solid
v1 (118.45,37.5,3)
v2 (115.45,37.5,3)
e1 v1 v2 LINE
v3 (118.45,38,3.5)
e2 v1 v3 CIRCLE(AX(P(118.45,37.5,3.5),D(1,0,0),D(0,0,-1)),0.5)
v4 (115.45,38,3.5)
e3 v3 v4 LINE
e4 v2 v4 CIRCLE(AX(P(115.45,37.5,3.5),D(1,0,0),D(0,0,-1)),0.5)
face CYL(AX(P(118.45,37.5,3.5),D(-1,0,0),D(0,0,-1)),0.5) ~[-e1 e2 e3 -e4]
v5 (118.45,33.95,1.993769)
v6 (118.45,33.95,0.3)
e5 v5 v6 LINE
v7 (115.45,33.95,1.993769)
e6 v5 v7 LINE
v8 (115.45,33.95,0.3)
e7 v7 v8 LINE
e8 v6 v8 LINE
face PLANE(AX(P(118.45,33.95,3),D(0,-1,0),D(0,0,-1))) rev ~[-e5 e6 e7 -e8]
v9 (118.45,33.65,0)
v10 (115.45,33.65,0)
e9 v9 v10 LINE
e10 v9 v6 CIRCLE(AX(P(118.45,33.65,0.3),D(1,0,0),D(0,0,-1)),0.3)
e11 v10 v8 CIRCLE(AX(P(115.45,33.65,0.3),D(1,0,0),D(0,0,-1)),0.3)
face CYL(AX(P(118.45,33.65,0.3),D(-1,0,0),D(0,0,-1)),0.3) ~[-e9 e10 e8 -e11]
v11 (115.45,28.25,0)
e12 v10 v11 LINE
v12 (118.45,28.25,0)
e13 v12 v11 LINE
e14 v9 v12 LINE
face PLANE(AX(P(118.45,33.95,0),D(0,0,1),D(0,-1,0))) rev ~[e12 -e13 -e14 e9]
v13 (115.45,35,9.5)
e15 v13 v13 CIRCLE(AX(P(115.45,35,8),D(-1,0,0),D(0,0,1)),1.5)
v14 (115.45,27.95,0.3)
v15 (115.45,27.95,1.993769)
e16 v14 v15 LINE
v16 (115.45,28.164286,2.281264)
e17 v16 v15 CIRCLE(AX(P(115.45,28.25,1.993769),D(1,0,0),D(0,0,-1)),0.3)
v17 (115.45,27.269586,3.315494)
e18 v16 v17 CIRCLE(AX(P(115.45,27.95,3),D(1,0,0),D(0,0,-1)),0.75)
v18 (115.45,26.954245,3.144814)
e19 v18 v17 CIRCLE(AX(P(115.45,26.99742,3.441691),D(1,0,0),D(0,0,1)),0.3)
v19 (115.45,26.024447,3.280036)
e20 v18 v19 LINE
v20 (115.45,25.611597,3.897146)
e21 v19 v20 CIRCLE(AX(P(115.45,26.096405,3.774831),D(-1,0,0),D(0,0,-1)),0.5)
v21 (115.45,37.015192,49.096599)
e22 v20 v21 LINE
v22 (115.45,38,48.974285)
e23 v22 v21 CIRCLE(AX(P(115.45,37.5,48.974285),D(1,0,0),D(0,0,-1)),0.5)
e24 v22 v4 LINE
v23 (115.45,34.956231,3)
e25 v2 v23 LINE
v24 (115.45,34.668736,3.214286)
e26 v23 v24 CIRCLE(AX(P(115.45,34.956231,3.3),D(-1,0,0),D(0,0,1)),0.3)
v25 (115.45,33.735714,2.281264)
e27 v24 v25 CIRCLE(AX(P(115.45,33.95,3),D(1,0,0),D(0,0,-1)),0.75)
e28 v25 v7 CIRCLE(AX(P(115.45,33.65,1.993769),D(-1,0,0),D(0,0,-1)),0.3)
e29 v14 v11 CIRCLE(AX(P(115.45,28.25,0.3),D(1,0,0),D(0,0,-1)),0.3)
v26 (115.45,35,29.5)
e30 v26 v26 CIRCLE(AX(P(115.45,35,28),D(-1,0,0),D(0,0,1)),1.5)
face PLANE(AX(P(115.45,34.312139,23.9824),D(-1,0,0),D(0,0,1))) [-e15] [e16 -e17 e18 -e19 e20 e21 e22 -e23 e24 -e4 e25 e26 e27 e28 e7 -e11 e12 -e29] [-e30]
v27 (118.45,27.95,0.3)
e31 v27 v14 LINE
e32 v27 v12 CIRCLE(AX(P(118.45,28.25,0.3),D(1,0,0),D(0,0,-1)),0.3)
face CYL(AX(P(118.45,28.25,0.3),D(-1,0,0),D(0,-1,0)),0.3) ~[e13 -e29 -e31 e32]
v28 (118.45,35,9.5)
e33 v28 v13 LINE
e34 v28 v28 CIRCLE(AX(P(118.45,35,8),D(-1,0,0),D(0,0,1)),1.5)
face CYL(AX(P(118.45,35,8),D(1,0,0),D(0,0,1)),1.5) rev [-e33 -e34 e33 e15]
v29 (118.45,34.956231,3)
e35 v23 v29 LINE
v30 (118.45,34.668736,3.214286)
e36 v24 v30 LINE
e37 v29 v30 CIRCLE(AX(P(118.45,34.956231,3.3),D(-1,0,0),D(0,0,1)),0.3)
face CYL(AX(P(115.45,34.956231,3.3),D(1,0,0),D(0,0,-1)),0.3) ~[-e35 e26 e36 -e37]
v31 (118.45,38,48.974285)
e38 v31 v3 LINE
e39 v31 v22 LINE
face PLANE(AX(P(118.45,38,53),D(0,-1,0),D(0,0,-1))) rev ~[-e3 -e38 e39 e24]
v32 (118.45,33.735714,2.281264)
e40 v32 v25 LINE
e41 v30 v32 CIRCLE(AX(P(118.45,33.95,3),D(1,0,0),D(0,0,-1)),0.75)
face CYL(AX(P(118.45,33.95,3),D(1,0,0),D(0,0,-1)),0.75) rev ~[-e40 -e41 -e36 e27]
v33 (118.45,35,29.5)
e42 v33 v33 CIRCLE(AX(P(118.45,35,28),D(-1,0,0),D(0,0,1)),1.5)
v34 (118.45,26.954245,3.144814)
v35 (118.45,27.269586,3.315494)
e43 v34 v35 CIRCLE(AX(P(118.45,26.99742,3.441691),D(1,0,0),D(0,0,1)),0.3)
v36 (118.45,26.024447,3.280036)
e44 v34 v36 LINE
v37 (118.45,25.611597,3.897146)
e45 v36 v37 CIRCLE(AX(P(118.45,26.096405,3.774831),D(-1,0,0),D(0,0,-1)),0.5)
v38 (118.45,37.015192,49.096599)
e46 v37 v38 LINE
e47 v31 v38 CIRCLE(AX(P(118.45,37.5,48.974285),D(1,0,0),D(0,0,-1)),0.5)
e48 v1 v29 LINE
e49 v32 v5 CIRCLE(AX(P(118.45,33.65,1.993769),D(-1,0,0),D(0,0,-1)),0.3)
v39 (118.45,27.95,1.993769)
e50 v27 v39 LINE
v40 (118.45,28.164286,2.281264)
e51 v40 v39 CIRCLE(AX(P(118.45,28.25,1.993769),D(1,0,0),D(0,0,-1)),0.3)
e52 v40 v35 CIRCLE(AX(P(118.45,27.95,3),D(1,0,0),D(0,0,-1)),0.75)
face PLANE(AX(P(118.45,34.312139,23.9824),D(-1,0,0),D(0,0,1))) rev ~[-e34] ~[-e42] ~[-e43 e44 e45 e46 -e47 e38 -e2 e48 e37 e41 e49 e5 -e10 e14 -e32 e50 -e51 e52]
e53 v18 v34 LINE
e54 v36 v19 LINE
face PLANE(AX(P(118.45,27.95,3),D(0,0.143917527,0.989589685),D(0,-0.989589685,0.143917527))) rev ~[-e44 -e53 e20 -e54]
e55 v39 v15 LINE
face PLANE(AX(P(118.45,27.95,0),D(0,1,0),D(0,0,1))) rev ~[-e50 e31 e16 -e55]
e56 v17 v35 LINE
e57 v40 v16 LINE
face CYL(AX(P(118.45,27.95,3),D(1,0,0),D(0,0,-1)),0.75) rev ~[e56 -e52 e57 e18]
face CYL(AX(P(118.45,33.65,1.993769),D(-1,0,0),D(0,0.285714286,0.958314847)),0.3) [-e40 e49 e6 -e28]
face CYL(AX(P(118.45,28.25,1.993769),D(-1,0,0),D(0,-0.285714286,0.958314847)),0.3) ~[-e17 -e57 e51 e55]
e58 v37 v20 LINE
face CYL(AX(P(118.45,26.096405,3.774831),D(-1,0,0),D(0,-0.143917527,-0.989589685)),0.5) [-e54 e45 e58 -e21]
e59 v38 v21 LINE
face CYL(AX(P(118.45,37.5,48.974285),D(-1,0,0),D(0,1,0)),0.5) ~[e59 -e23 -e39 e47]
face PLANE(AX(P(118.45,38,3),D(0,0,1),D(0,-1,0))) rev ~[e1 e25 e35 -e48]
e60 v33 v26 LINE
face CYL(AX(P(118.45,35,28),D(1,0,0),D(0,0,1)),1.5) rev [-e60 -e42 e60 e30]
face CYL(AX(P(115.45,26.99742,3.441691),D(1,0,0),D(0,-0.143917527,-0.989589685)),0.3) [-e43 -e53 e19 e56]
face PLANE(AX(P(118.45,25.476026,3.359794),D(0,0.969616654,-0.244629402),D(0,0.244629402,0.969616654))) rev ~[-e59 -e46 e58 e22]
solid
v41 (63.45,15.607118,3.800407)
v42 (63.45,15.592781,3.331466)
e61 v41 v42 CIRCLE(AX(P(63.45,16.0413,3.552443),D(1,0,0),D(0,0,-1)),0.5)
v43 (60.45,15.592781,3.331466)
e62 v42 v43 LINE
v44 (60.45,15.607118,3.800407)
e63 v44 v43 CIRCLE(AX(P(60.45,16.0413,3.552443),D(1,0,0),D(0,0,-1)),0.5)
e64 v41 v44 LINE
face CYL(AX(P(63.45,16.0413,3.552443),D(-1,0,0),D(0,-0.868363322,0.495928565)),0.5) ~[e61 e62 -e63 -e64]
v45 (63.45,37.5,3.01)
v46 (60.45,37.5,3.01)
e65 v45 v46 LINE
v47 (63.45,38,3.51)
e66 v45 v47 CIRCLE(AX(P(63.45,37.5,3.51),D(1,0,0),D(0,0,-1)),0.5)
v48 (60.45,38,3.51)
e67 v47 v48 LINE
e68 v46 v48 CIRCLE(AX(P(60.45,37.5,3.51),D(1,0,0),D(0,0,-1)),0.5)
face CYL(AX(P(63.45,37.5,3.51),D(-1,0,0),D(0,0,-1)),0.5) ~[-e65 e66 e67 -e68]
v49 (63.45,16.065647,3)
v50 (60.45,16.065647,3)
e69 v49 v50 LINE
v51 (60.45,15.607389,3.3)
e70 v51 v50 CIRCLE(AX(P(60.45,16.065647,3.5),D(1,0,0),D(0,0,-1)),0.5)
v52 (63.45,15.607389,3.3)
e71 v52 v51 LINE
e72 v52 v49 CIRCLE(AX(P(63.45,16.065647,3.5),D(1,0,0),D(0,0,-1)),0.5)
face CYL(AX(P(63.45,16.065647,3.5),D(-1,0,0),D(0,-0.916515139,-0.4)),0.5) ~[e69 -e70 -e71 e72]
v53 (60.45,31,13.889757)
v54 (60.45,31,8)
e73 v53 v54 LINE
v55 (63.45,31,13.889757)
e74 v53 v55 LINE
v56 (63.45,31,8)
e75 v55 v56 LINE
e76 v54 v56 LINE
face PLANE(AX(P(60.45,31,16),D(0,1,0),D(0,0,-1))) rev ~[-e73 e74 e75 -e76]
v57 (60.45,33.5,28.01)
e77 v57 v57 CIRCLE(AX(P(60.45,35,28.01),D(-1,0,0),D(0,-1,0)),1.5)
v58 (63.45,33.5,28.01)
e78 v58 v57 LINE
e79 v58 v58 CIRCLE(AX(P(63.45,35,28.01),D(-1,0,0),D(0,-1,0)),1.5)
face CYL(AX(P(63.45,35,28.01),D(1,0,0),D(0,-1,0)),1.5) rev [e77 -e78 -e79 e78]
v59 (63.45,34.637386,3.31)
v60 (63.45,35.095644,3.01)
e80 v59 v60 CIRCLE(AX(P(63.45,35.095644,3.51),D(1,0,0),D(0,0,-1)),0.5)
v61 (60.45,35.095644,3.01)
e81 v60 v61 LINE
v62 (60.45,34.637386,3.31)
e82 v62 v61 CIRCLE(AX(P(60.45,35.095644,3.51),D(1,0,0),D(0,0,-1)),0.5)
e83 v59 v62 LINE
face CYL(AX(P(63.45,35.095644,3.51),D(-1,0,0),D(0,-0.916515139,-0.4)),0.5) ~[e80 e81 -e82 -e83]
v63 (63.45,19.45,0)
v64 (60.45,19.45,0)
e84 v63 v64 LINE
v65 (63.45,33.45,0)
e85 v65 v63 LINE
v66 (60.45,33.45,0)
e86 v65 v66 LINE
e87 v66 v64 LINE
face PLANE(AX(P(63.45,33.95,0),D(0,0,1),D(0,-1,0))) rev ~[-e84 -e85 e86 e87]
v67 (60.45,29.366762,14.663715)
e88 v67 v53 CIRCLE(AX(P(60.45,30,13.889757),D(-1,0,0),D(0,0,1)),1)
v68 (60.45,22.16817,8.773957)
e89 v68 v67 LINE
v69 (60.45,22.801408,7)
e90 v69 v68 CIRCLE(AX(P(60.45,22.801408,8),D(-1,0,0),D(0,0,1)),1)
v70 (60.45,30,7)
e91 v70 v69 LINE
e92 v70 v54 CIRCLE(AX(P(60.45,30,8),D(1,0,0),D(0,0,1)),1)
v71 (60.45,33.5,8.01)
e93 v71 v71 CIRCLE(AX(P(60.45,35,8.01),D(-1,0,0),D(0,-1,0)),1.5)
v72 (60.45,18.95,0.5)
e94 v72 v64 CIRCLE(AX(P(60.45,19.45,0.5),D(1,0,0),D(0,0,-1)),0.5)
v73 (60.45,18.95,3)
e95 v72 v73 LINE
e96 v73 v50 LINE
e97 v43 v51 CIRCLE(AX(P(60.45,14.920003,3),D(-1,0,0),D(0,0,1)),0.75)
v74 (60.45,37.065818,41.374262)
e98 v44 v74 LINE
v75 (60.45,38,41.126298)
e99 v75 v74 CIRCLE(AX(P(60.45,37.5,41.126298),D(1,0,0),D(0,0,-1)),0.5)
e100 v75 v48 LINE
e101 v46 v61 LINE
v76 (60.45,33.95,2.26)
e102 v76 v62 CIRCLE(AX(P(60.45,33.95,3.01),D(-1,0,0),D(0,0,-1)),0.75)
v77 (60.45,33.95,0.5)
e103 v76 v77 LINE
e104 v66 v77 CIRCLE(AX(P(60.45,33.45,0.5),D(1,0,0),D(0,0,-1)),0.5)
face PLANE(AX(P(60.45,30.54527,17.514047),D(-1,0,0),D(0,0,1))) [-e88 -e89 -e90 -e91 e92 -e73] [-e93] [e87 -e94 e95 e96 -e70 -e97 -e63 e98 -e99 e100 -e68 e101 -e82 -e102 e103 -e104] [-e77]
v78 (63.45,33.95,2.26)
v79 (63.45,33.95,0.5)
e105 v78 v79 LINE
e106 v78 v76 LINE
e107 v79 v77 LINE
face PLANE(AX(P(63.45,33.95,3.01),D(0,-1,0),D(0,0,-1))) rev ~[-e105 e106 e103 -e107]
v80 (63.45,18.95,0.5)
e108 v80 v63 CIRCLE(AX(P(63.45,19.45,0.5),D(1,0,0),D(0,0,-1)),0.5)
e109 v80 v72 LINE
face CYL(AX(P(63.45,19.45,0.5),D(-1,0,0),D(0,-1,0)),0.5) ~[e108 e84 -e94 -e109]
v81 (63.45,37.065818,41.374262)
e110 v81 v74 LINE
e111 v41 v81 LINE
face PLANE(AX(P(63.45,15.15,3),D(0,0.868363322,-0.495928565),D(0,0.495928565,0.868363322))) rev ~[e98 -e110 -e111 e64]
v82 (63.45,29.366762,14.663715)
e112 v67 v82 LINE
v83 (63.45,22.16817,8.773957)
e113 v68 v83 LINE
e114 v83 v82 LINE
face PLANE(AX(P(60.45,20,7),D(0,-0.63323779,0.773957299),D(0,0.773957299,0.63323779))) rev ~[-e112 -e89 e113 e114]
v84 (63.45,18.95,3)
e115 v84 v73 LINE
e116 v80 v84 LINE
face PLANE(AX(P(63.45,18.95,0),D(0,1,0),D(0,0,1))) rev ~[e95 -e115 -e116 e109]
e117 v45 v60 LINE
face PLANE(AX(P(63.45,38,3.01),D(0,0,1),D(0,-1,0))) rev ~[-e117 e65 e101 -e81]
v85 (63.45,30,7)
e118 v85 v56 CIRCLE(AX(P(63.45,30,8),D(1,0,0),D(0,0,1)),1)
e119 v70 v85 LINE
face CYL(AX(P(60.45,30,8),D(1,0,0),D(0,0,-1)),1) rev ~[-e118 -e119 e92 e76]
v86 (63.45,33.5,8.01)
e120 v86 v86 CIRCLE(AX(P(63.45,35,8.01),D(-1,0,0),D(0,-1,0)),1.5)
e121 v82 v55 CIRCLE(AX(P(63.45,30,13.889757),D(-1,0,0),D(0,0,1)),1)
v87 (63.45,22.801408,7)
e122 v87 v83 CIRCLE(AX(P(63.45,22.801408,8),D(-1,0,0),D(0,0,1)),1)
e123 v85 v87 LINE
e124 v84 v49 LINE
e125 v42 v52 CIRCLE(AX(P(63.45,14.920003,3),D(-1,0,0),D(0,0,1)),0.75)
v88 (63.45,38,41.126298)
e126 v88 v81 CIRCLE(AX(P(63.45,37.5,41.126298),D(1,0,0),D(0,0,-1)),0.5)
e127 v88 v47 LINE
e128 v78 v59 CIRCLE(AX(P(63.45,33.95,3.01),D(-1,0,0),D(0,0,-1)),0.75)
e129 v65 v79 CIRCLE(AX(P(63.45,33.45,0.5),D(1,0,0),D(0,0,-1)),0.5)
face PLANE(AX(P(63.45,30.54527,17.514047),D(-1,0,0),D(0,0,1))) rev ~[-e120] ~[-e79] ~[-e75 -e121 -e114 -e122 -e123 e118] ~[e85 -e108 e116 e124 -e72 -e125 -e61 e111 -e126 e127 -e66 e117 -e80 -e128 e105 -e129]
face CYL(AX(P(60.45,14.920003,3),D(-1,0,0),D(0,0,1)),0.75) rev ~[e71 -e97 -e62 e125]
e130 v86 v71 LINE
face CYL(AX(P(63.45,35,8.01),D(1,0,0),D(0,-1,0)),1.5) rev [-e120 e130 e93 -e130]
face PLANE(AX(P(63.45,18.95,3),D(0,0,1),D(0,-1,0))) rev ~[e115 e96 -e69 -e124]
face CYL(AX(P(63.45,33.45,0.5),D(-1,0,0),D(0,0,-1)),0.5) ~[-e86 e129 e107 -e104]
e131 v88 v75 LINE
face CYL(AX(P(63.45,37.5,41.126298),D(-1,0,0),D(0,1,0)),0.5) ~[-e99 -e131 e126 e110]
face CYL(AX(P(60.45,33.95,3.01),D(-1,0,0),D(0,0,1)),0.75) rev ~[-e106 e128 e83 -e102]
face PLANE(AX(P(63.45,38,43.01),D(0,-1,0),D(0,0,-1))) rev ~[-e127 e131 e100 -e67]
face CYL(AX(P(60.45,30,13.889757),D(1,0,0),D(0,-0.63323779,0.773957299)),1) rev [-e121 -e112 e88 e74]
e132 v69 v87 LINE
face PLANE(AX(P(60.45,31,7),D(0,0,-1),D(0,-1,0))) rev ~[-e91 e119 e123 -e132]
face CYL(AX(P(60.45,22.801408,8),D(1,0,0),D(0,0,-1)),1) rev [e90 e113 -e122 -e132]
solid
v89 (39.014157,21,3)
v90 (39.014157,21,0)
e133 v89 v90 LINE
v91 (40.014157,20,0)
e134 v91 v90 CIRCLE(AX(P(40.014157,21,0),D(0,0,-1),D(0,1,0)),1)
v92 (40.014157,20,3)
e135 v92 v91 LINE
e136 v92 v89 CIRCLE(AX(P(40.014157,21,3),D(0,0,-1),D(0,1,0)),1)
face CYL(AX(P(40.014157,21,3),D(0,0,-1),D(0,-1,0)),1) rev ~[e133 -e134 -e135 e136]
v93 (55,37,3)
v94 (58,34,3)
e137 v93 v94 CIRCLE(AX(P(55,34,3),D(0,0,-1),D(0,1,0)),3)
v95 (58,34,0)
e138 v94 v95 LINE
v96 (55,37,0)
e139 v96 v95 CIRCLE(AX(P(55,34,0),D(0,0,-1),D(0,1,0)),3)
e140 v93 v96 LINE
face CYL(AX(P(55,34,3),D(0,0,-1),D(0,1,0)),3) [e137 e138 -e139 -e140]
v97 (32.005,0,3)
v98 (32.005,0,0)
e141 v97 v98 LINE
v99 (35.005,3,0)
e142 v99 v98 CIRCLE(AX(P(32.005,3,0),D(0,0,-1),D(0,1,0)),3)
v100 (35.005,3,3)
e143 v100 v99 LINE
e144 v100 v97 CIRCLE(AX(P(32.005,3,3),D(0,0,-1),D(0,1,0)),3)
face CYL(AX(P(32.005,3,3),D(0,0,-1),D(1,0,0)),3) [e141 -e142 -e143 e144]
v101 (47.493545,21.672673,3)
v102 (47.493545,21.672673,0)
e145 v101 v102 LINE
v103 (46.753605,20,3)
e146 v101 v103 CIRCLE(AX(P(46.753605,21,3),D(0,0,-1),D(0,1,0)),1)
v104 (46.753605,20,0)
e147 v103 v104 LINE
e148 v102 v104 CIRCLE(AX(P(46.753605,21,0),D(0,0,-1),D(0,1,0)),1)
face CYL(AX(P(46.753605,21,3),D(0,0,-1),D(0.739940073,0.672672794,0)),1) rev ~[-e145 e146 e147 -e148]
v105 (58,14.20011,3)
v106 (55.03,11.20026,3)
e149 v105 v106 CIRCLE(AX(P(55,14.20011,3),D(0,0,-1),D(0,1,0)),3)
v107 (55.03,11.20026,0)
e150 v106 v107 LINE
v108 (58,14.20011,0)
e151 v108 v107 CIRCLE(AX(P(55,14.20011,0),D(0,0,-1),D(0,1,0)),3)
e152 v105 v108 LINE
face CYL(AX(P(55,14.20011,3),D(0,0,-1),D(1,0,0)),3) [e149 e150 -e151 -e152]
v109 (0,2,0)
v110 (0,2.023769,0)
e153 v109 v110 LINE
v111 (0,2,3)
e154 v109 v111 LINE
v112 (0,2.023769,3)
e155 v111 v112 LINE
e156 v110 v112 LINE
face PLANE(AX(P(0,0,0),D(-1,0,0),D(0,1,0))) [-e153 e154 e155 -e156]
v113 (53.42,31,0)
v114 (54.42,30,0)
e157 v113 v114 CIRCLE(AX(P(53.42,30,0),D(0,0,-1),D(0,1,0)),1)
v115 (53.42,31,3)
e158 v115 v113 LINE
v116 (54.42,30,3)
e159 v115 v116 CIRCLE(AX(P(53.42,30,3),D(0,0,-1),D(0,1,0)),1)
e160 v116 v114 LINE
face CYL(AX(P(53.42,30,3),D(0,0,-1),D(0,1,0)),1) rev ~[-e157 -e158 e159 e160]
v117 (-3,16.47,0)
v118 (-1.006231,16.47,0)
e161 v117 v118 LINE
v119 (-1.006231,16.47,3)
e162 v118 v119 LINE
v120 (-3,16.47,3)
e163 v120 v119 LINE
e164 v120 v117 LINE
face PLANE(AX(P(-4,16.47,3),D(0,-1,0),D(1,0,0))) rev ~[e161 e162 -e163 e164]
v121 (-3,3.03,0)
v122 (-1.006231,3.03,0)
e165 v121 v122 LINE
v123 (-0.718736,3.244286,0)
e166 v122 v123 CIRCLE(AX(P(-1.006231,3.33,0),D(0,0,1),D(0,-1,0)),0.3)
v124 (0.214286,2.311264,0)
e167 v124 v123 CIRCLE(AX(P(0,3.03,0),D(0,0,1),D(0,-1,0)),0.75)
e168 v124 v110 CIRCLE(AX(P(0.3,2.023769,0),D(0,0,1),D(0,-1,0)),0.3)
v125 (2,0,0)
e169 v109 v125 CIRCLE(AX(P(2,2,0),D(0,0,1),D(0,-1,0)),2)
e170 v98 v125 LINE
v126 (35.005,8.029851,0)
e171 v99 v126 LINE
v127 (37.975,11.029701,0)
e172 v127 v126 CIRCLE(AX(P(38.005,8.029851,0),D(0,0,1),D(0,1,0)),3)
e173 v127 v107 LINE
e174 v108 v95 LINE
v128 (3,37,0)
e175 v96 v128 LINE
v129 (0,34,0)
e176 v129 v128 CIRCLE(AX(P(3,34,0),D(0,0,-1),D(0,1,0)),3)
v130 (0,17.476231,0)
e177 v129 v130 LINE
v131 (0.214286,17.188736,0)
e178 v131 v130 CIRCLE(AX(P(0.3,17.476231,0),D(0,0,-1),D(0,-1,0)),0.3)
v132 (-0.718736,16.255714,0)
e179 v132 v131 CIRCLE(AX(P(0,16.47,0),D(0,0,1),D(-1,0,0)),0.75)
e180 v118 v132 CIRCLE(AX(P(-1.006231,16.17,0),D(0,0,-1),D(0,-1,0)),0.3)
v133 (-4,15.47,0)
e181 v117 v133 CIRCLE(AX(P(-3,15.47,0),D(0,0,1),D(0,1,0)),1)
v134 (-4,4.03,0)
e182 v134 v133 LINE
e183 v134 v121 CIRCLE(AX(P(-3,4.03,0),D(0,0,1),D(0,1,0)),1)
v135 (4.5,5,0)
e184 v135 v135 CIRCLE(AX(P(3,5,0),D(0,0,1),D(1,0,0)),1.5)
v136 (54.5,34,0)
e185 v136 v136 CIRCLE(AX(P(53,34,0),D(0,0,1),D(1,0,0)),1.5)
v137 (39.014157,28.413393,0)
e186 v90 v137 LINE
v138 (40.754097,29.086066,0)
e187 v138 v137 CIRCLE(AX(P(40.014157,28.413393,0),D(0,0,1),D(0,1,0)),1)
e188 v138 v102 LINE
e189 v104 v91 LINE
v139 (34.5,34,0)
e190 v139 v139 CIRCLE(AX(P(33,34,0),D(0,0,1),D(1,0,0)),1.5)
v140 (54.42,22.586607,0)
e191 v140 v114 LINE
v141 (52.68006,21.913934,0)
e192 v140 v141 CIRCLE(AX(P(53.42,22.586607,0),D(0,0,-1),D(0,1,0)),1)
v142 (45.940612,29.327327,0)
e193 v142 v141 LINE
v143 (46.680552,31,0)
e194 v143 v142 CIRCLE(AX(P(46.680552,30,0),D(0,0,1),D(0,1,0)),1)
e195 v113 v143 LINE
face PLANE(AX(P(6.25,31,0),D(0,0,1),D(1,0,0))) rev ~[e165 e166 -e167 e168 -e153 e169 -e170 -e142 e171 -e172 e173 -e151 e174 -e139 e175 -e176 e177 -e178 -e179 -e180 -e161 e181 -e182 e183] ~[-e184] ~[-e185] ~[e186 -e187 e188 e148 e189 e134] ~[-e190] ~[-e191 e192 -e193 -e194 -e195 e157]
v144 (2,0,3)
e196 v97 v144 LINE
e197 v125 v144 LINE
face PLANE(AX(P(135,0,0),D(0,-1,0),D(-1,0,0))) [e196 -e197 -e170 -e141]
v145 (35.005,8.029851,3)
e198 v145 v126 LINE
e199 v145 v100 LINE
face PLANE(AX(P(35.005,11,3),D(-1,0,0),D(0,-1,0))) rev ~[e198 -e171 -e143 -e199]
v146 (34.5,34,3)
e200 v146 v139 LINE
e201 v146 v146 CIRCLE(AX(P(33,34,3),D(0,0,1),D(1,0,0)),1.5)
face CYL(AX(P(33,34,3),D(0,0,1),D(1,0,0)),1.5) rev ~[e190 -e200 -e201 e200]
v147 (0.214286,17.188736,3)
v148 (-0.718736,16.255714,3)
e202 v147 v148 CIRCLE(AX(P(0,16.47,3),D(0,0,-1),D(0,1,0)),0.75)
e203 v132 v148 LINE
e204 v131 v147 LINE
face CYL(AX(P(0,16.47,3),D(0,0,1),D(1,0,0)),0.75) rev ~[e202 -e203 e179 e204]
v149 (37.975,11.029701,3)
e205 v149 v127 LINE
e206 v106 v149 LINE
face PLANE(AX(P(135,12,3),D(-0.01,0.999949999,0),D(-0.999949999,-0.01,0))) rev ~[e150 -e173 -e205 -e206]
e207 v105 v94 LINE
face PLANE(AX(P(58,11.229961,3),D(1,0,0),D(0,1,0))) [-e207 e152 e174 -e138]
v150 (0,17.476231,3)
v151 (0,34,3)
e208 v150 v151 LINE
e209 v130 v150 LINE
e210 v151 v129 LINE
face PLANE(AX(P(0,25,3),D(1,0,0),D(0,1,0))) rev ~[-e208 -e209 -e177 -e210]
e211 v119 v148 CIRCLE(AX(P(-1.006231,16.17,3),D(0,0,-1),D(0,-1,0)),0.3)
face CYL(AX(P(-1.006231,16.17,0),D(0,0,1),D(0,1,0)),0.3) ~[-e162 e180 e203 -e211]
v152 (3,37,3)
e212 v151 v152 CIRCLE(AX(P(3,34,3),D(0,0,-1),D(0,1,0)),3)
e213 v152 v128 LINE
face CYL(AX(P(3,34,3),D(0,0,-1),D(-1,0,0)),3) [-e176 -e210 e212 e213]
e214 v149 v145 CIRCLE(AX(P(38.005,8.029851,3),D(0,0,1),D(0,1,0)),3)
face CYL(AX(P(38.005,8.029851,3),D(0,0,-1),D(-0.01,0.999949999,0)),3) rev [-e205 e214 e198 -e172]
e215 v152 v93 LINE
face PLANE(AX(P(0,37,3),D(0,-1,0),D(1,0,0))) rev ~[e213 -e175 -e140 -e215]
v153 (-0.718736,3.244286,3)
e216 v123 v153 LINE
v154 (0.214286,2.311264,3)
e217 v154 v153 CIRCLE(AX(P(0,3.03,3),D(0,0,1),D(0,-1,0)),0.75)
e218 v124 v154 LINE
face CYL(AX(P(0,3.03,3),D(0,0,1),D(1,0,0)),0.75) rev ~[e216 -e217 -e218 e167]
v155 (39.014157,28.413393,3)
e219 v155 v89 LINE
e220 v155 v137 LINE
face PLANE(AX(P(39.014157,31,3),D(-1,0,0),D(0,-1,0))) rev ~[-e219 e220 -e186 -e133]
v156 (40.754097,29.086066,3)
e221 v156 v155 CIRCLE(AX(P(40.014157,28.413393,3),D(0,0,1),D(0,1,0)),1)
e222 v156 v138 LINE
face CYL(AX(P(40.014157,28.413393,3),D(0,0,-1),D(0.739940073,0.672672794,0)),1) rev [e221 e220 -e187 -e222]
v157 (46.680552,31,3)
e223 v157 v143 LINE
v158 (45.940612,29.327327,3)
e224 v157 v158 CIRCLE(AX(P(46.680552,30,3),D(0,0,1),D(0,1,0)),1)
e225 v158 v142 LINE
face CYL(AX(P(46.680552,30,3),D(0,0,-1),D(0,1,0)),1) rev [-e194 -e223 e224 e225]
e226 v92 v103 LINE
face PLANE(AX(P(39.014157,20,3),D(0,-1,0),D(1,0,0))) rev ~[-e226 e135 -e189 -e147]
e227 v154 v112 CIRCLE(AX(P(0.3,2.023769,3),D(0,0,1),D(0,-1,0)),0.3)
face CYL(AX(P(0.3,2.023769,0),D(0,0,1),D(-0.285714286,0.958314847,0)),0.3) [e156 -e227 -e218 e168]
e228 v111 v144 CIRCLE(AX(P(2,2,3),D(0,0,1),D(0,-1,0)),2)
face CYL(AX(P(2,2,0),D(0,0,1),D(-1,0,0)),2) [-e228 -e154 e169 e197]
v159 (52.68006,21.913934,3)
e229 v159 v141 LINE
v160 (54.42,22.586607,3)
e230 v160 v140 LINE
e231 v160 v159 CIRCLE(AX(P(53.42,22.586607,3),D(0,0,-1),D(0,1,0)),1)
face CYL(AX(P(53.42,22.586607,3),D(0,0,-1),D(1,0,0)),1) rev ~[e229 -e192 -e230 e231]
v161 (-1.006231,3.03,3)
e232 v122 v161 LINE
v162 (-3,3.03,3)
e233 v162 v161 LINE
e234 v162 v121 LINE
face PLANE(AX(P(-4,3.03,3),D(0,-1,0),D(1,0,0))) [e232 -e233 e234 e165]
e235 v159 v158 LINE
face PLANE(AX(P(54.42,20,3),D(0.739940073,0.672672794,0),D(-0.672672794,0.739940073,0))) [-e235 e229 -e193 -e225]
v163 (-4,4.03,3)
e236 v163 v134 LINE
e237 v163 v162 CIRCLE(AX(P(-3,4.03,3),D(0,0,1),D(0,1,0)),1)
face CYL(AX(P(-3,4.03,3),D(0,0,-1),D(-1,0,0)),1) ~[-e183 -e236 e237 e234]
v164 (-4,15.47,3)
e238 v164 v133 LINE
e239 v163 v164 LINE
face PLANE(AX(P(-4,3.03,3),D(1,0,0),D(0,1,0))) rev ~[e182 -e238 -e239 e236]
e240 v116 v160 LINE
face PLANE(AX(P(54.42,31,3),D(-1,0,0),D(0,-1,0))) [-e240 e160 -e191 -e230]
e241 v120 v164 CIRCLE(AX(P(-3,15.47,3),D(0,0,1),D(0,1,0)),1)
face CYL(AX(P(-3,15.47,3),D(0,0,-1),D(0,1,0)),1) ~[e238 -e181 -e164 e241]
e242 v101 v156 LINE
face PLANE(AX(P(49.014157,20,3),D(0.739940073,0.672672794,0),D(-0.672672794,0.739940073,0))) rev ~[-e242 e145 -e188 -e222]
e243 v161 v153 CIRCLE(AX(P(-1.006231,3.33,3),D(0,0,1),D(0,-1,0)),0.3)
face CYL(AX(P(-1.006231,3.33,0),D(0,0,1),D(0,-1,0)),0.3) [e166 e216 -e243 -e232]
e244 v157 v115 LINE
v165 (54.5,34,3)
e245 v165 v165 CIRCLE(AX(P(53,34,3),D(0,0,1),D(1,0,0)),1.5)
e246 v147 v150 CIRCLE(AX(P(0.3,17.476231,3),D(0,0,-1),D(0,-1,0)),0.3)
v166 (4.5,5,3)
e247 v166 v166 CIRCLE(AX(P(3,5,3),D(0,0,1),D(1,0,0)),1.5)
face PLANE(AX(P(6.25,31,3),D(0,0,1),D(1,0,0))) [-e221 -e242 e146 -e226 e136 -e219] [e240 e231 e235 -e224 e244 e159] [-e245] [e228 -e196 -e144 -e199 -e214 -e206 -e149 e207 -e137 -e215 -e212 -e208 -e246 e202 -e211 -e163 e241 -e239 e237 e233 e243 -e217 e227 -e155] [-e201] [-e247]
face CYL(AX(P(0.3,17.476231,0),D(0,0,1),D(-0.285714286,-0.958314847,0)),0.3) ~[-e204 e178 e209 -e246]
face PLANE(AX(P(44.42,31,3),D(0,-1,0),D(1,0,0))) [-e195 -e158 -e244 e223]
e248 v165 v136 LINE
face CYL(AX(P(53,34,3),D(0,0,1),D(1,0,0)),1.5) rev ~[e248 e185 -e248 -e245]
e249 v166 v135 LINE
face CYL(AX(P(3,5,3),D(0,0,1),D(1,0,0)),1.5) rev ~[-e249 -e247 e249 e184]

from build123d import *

# Parameters (mm, degrees)
EXTRUDE_2_DEPTH      = 3
CUT_EXTRUDE_2_DEPTH  = 10
SKETCH_6_R           = 1.5
CUT_EXTRUDE_4_DEPTH  = 10
FILLET_3_R           = 2
SKETCH_17_W          = 12.5
SKETCH_17_H          = 12
CUT_EXTRUDE_10_DEPTH = 10
SKETCH_18_W          = 4
SKETCH_18_H          = 13.44
EXTRUDE_3_DEPTH      = 3
SKETCH_19_R          = 0.75
CUT_EXTRUDE_11_DEPTH = 3
FILLET_6_R           = 1
SKETCH_21_R          = 0.75
SKETCH_21_W          = 3.03
SKETCH_21_H          = 6.05
SKETCH_21_H_2        = 15.05
CUT_EXTRUDE_12_DEPTH = 10
SKETCH_22_R          = 1.5
EXTRUDE_4_DEPTH      = 3
SKETCH_23_R          = 1.5
EXTRUDE_5_DEPTH      = 3
FILLET_8_R           = 0.5
CUT_EXTRUDE_14_DEPTH = 3
FILLET_10_R          = 1
SKETCH_28_R          = 0.75
CUT_EXTRUDE_17_DEPTH = 10
SKETCH_29_R          = 0.75
CUT_EXTRUDE_18_DEPTH = 10
FILLET_13_R          = 0.3
FILLET_17_R          = 0.3
SKETCH_30_R          = 1.5
CUT_EXTRUDE_19_DEPTH = 10
FILLET_21_R          = 0.3
FILLET_22_R          = 0.3
FILLET_26_R          = 0.5
CUT_EXTRUDE_22_DEPTH = 10
SKETCH_36_R          = 1.5
CUT_EXTRUDE_24_DEPTH = 10
SKETCH_37_W          = 12.5
SKETCH_37_H          = 12
EXTRUDE_6_DEPTH      = 3
FILLET_27_R          = 3
FILLET_28_R          = 1
SKETCH_39_W          = 77
SKETCH_39_H          = 25.770038503
CUT_EXTRUDE_25_DEPTH = 10
FILLET_29_R          = 3


with BuildPart() as part:
    # 草图1 → 凸台-拉伸2 (new body)
    with BuildSketch(Plane.XY):
        Polygon((0, 0), (0, 37), (35, 37), (135, 37), (135, 16.447466896), (135, 0), align=None)
    extrude(amount=EXTRUDE_2_DEPTH)

    # 草图4 → 切除-拉伸2 (cut)
    with BuildSketch(Plane.XY.offset(3)):
        Polygon((135, 12), (35.005000125, 11), (35.005000125, 0), (135, 0), align=None)
    extrude(amount=-CUT_EXTRUDE_2_DEPTH, mode=Mode.SUBTRACT)

    # 草图6 → 切除-拉伸4 (cut)
    with BuildSketch(Plane.XY.offset(3)):
        with Locations((3, 5)):
            Circle(SKETCH_6_R)
    extrude(amount=-CUT_EXTRUDE_4_DEPTH, mode=Mode.SUBTRACT)

    # 圆角3
    fillet_3_edges = [part.edges().sort_by_distance(p)[0] for p in [
        (0, 0, 1.5),
        (135, 12, 1.5),
    ]]
    fillet(fillet_3_edges, radius=FILLET_3_R)

    # 草图17 → 切除-拉伸10 (cut)
    with BuildSketch(Plane.XY.offset(3)):
        with Locations((6.25, 31)):
            Rectangle(SKETCH_17_W, SKETCH_17_H)
    extrude(amount=-CUT_EXTRUDE_10_DEPTH, mode=Mode.SUBTRACT)

    # 草图18 → 凸台-拉伸3 (add)
    with BuildSketch(Plane.XY.offset(3)):
        with Locations((-2, 9.75)):
            Rectangle(SKETCH_18_W, SKETCH_18_H)
    extrude(amount=-EXTRUDE_3_DEPTH)

    # 草图19 → 切除-拉伸11 (cut)
    with BuildSketch(Plane.XY.offset(3)):
        with Locations((0, 3.03)):
            Circle(SKETCH_19_R)
        with Locations((0, 16.47)):
            Circle(SKETCH_19_R)
    extrude(amount=-CUT_EXTRUDE_11_DEPTH, mode=Mode.SUBTRACT)

    # 圆角6
    fillet_6_edges = [part.edges().sort_by_distance(p)[0] for p in [
        (-4, 3.03, 1.5),
        (-4, 16.47, 1.5),
    ]]
    fillet(fillet_6_edges, radius=FILLET_6_R)

    # 草图21 → 切除-拉伸12 (cut)
    with BuildSketch(Plane.XY.offset(3)):
        with Locations((118.45, 27.95)):
            Circle(SKETCH_21_R)
        with Locations((118.45, 34)):
            Circle(SKETCH_21_R)
        with Locations((115.42, 34)):
            Circle(SKETCH_21_R)
        with Locations((115.42, 27.95)):
            Circle(SKETCH_21_R)
        with Locations((116.935, 30.975)):
            Rectangle(SKETCH_21_W, SKETCH_21_H)
        with BuildLine():
            Line((116.17, 34), (115.42, 34))
            Line((115.42, 34), (115.42, 33.25))
            ThreePointArc((115.42, 33.25), (115.950330086, 33.469669914), (116.17, 34))
        make_face()
        with BuildLine():
            Line((115.42, 33.25), (115.42, 34))
            Line((115.42, 34), (116.17, 34))
            ThreePointArc((116.17, 34), (114.889669914, 34.530330086), (115.42, 33.25))
        make_face()
        with BuildLine():
            ThreePointArc((119.2, 34), (118.45, 34.75), (117.7, 34))
            Line((117.7, 34), (118.45, 34))
            Line((118.45, 34), (118.45, 33.25))
            ThreePointArc((118.45, 33.25), (118.980330086, 33.469669914), (119.2, 34))
        make_face()
        with BuildLine():
            Line((118.45, 34), (117.7, 34))
            ThreePointArc((117.7, 34), (117.919669914, 33.469669914), (118.45, 33.25))
            Line((118.45, 33.25), (118.45, 34))
        make_face()
        with BuildLine():
            ThreePointArc((116.17, 27.95), (115.950330086, 28.480330086), (115.42, 28.7))
            Line((115.42, 28.7), (115.42, 27.95))
            Line((115.42, 27.95), (116.17, 27.95))
        make_face()
        with BuildLine():
            Line((115.42, 27.95), (115.42, 28.7))
            ThreePointArc((115.42, 28.7), (114.889669914, 27.419669914), (116.17, 27.95))
            Line((116.17, 27.95), (115.42, 27.95))
        make_face()
        with BuildLine():
            ThreePointArc((118.45, 28.7), (117.919669914, 28.480330086), (117.7, 27.95))
            Line((117.7, 27.95), (118.45, 27.95))
            Line((118.45, 27.95), (118.45, 28.7))
        make_face()
        with BuildLine():
            Line((118.45, 27.95), (117.7, 27.95))
            ThreePointArc((117.7, 27.95), (118.45, 27.2), (119.2, 27.95))
            ThreePointArc((119.2, 27.95), (118.980330086, 28.480330086), (118.45, 28.7))
            Line((118.45, 28.7), (118.45, 27.95))
        make_face()
        with Locations((63.45, 18.95)):
            Circle(SKETCH_21_R)
        with Locations((63.45, 34)):
            Circle(SKETCH_21_R)
        with Locations((60.42, 34)):
            Circle(SKETCH_21_R)
        with Locations((60.42, 18.95)):
            Circle(SKETCH_21_R)
        with Locations((61.935, 26.475)):
            Rectangle(SKETCH_21_W, SKETCH_21_H_2)
        with BuildLine():
            ThreePointArc((61.17, 18.95), (60.950330086, 19.480330086), (60.42, 19.7))
            Line((60.42, 19.7), (60.42, 18.95))
            Line((60.42, 18.95), (61.17, 18.95))
        make_face()
        with BuildLine():
            Line((60.42, 18.95), (60.42, 19.7))
            ThreePointArc((60.42, 19.7), (59.889669914, 18.419669914), (61.17, 18.95))
            Line((61.17, 18.95), (60.42, 18.95))
        make_face()
        with BuildLine():
            ThreePointArc((63.45, 19.7), (62.919669914, 19.480330086), (62.7, 18.95))
            Line((62.7, 18.95), (63.45, 18.95))
            Line((63.45, 18.95), (63.45, 19.7))
        make_face()
        with BuildLine():
            Line((63.45, 18.95), (62.7, 18.95))
            ThreePointArc((62.7, 18.95), (63.45, 18.2), (64.2, 18.95))
            ThreePointArc((64.2, 18.95), (63.980330086, 19.480330086), (63.45, 19.7))
            Line((63.45, 19.7), (63.45, 18.95))
        make_face()
        with BuildLine():
            Line((61.17, 34), (60.42, 34))
            Line((60.42, 34), (60.42, 33.25))
            ThreePointArc((60.42, 33.25), (60.950330086, 33.469669914), (61.17, 34))
        make_face()
        with BuildLine():
            Line((60.42, 33.25), (60.42, 34))
            Line((60.42, 34), (61.17, 34))
            ThreePointArc((61.17, 34), (59.889669914, 34.530330086), (60.42, 33.25))
        make_face()
        with BuildLine():
            ThreePointArc((64.2, 34), (63.45, 34.75), (62.7, 34))
            Line((62.7, 34), (63.45, 34))
            Line((63.45, 34), (63.45, 33.25))
            ThreePointArc((63.45, 33.25), (63.980330086, 33.469669914), (64.2, 34))
        make_face()
        with BuildLine():
            Line((63.45, 34), (62.7, 34))
            ThreePointArc((62.7, 34), (62.919669914, 33.469669914), (63.45, 33.25))
            Line((63.45, 33.25), (63.45, 34))
        make_face()
    extrude(amount=-CUT_EXTRUDE_12_DEPTH, mode=Mode.SUBTRACT)

    # 圆角13
    fillet_13_edges = [part.edges().sort_by_distance(p)[0] for p in [
        (-0.75, 16.47, 1.5),
        (-0.75, 3.03, 1.5),
        (0, 2.28, 1.5),
        (0, 17.22, 1.5),
    ]]
    fillet(fillet_13_edges, radius=FILLET_13_R)

    # 草图30 → 切除-拉伸19 (cut)
    with BuildSketch(Plane.XY.offset(3)):
        with Locations((110, 18.750337525)):
            Circle(SKETCH_30_R)
    extrude(amount=-CUT_EXTRUDE_19_DEPTH, mode=Mode.SUBTRACT)

    # 圆角21
    fillet_21_edges = [part.edges().sort_by_distance(p)[0] for p in [
        (63.45, 19.7, 1.5),
        (62.7, 18.95, 1.5),
        (61.17, 18.95, 1.5),
        (60.42, 19.7, 1.5),
        (60.42, 33.25, 1.5),
        (61.17, 34, 1.5),
        (62.7, 34, 1.5),
        (63.45, 33.25, 1.5),
    ]]
    fillet(fillet_21_edges, radius=FILLET_21_R)

    # 圆角22
    fillet_22_edges = [part.edges().sort_by_distance(p)[0] for p in [
        (118.45, 28.7, 1.5),
        (117.7, 27.95, 1.5),
        (116.17, 27.95, 1.5),
        (115.42, 28.7, 1.5),
        (115.42, 33.25, 1.5),
        (116.17, 34, 1.5),
        (117.7, 34, 1.5),
        (118.45, 33.25, 1.5),
    ]]
    fillet(fillet_22_edges, radius=FILLET_22_R)

    # 草图35 → 切除-拉伸22 (cut)
    with BuildSketch(Plane.XY.offset(3)):
        Polygon((39.014156819, 31), (39.014156819, 20), (49.014156819, 20), align=None)
        Polygon((44.42, 31), (54.42, 31), (54.42, 20), align=None)
    extrude(amount=-CUT_EXTRUDE_22_DEPTH, mode=Mode.SUBTRACT)

    # 草图36 → 切除-拉伸24 (cut)
    with BuildSketch(Plane.XY.offset(3)):
        with Locations((100, 34)):
            Circle(SKETCH_36_R)
        with Locations((80, 34)):
            Circle(SKETCH_36_R)
        with Locations((53, 34)):
            Circle(SKETCH_36_R)
        with Locations((33, 34)):
            Circle(SKETCH_36_R)
    extrude(amount=-CUT_EXTRUDE_24_DEPTH, mode=Mode.SUBTRACT)

    # 草图37 → 凸台-拉伸6 (add)
    with BuildSketch(Plane.XY.offset(3)):
        with Locations((6.25, 31)):
            Rectangle(SKETCH_37_W, SKETCH_37_H)
    extrude(amount=-EXTRUDE_6_DEPTH)

    # 圆角27
    fillet_27_edges = [part.edges().sort_by_distance(p)[0] for p in [
        (135, 37, 1.5),
        (35.005000125, 0, 1.5),
        (35.005000125, 11, 1.5),
        (0, 37, 1.5),
    ]]
    fillet(fillet_27_edges, radius=FILLET_27_R)

    # 圆角28
    fillet_28_edges = [part.edges().sort_by_distance(p)[0] for p in [
        (49.014156819, 20, 1.5),
        (39.014156819, 20, 1.5),
        (39.014156819, 31, 1.5),
        (54.42, 20, 1.5),
        (44.42, 31, 1.5),
        (54.42, 31, 1.5),
    ]]
    fillet(fillet_28_edges, radius=FILLET_28_R)

    # 草图39 → 切除-拉伸25 (cut)
    with BuildSketch(Plane.XY.offset(3)):
        with Locations((96.5, 24.114980749)):
            Rectangle(SKETCH_39_W, SKETCH_39_H)
    extrude(amount=-CUT_EXTRUDE_25_DEPTH, mode=Mode.SUBTRACT)

    # 圆角29
    fillet_29_edges = [part.edges().sort_by_distance(p)[0] for p in [
        (58, 11.229961497, 1.5),
        (58, 37, 1.5),
    ]]
    fillet(fillet_29_edges, radius=FILLET_29_R)


with BuildPart() as body_2:
    # 草图22 → 凸台-拉伸4 (new body)
    with BuildSketch(Plane.ZY.offset(-63.45)):
        Polygon((0, 33.95), (0, 18.95), (3, 18.95), (3, 15.15), (43.01, 38), (3.01, 38), (3.01, 33.95), align=None)
        with Locations(Location((8.01, 35, 0), (0, 0, 270))):
            Circle(SKETCH_22_R, mode=Mode.SUBTRACT)
        with Locations(Location((28.01, 35, 0), (0, 0, 270))):
            Circle(SKETCH_22_R, mode=Mode.SUBTRACT)
    extrude(amount=EXTRUDE_4_DEPTH)

    # 草图25 → 切除-拉伸14 (cut)
    with BuildSketch(Plane.ZY.offset(-60.45)):
        Polygon((7, 31), (7, 20), (16, 31), align=None)
    extrude(amount=-CUT_EXTRUDE_14_DEPTH, mode=Mode.SUBTRACT)

    # 圆角10
    fillet_10_edges = [body_2.edges().sort_by_distance(p)[0] for p in [
        (61.95, 31, 7),
        (61.95, 31, 16),
        (61.95, 20, 7),
    ]]
    fillet(fillet_10_edges, radius=FILLET_10_R)

    # 草图28 → 切除-拉伸17 (cut)
    with BuildSketch(Plane.ZY.offset(-60.45)):
        with Locations((3.01, 33.95)):
            Circle(SKETCH_28_R)
        with Locations((3, 14.920002627)):
            Circle(SKETCH_28_R)
    extrude(amount=-CUT_EXTRUDE_17_DEPTH, mode=Mode.SUBTRACT)

    # 圆角26
    fillet_26_edges = [body_2.edges().sort_by_distance(p)[0] for p in [
        (61.95, 38, 3.01),
        (61.95, 38, 43.01),
        (61.95, 18.95, 0),
        (61.95, 33.95, 0),
        (61.95, 34.7, 3.01),
        (61.95, 15.451949284, 3.528708572),
        (61.95, 15.670002627, 3),
    ]]
    fillet(fillet_26_edges, radius=FILLET_26_R)


with BuildPart() as body_3:
    # 草图23 → 凸台-拉伸5 (new body)
    with BuildSketch(Plane.ZY.offset(-118.45)):
        Polygon((0, 33.95), (0, 27.95), (3, 27.95), (3.359793817, 25.476025786), (53, 38), (3, 38), (3, 33.95), align=None)
        with Locations((8, 35)):
            Circle(SKETCH_23_R, mode=Mode.SUBTRACT)
        with Locations((28, 35)):
            Circle(SKETCH_23_R, mode=Mode.SUBTRACT)
    extrude(amount=EXTRUDE_5_DEPTH)

    # 圆角8
    fillet_8_edges = [body_3.edges().sort_by_distance(p)[0] for p in [
        (116.95, 38, 3),
        (116.95, 38, 53),
        (116.95, 25.476025786, 3.359793817),
    ]]
    fillet(fillet_8_edges, radius=FILLET_8_R)

    # 草图29 → 切除-拉伸18 (cut)
    with BuildSketch(Plane(origin=(118.45, 0, 0), x_dir=(0, 0, -1), z_dir=(1, 0, 0))):
        with Locations((-3, 33.95)):
            Circle(SKETCH_29_R)
        with Locations((-3, 27.95)):
            Circle(SKETCH_29_R)
    extrude(amount=-CUT_EXTRUDE_18_DEPTH, mode=Mode.SUBTRACT)

    # 圆角17
    fillet_17_edges = [body_3.edges().sort_by_distance(p)[0] for p in [
        (116.95, 27.95, 0),
        (116.95, 33.95, 0),
        (116.95, 34.7, 3),
        (116.95, 27.207807736, 3.107938145),
        (116.95, 33.95, 2.25),
        (116.95, 27.95, 2.25),
    ]]
    fillet(fillet_17_edges, radius=FILLET_17_R)


solid = Compound([part.part, body_2.part, body_3.part])
